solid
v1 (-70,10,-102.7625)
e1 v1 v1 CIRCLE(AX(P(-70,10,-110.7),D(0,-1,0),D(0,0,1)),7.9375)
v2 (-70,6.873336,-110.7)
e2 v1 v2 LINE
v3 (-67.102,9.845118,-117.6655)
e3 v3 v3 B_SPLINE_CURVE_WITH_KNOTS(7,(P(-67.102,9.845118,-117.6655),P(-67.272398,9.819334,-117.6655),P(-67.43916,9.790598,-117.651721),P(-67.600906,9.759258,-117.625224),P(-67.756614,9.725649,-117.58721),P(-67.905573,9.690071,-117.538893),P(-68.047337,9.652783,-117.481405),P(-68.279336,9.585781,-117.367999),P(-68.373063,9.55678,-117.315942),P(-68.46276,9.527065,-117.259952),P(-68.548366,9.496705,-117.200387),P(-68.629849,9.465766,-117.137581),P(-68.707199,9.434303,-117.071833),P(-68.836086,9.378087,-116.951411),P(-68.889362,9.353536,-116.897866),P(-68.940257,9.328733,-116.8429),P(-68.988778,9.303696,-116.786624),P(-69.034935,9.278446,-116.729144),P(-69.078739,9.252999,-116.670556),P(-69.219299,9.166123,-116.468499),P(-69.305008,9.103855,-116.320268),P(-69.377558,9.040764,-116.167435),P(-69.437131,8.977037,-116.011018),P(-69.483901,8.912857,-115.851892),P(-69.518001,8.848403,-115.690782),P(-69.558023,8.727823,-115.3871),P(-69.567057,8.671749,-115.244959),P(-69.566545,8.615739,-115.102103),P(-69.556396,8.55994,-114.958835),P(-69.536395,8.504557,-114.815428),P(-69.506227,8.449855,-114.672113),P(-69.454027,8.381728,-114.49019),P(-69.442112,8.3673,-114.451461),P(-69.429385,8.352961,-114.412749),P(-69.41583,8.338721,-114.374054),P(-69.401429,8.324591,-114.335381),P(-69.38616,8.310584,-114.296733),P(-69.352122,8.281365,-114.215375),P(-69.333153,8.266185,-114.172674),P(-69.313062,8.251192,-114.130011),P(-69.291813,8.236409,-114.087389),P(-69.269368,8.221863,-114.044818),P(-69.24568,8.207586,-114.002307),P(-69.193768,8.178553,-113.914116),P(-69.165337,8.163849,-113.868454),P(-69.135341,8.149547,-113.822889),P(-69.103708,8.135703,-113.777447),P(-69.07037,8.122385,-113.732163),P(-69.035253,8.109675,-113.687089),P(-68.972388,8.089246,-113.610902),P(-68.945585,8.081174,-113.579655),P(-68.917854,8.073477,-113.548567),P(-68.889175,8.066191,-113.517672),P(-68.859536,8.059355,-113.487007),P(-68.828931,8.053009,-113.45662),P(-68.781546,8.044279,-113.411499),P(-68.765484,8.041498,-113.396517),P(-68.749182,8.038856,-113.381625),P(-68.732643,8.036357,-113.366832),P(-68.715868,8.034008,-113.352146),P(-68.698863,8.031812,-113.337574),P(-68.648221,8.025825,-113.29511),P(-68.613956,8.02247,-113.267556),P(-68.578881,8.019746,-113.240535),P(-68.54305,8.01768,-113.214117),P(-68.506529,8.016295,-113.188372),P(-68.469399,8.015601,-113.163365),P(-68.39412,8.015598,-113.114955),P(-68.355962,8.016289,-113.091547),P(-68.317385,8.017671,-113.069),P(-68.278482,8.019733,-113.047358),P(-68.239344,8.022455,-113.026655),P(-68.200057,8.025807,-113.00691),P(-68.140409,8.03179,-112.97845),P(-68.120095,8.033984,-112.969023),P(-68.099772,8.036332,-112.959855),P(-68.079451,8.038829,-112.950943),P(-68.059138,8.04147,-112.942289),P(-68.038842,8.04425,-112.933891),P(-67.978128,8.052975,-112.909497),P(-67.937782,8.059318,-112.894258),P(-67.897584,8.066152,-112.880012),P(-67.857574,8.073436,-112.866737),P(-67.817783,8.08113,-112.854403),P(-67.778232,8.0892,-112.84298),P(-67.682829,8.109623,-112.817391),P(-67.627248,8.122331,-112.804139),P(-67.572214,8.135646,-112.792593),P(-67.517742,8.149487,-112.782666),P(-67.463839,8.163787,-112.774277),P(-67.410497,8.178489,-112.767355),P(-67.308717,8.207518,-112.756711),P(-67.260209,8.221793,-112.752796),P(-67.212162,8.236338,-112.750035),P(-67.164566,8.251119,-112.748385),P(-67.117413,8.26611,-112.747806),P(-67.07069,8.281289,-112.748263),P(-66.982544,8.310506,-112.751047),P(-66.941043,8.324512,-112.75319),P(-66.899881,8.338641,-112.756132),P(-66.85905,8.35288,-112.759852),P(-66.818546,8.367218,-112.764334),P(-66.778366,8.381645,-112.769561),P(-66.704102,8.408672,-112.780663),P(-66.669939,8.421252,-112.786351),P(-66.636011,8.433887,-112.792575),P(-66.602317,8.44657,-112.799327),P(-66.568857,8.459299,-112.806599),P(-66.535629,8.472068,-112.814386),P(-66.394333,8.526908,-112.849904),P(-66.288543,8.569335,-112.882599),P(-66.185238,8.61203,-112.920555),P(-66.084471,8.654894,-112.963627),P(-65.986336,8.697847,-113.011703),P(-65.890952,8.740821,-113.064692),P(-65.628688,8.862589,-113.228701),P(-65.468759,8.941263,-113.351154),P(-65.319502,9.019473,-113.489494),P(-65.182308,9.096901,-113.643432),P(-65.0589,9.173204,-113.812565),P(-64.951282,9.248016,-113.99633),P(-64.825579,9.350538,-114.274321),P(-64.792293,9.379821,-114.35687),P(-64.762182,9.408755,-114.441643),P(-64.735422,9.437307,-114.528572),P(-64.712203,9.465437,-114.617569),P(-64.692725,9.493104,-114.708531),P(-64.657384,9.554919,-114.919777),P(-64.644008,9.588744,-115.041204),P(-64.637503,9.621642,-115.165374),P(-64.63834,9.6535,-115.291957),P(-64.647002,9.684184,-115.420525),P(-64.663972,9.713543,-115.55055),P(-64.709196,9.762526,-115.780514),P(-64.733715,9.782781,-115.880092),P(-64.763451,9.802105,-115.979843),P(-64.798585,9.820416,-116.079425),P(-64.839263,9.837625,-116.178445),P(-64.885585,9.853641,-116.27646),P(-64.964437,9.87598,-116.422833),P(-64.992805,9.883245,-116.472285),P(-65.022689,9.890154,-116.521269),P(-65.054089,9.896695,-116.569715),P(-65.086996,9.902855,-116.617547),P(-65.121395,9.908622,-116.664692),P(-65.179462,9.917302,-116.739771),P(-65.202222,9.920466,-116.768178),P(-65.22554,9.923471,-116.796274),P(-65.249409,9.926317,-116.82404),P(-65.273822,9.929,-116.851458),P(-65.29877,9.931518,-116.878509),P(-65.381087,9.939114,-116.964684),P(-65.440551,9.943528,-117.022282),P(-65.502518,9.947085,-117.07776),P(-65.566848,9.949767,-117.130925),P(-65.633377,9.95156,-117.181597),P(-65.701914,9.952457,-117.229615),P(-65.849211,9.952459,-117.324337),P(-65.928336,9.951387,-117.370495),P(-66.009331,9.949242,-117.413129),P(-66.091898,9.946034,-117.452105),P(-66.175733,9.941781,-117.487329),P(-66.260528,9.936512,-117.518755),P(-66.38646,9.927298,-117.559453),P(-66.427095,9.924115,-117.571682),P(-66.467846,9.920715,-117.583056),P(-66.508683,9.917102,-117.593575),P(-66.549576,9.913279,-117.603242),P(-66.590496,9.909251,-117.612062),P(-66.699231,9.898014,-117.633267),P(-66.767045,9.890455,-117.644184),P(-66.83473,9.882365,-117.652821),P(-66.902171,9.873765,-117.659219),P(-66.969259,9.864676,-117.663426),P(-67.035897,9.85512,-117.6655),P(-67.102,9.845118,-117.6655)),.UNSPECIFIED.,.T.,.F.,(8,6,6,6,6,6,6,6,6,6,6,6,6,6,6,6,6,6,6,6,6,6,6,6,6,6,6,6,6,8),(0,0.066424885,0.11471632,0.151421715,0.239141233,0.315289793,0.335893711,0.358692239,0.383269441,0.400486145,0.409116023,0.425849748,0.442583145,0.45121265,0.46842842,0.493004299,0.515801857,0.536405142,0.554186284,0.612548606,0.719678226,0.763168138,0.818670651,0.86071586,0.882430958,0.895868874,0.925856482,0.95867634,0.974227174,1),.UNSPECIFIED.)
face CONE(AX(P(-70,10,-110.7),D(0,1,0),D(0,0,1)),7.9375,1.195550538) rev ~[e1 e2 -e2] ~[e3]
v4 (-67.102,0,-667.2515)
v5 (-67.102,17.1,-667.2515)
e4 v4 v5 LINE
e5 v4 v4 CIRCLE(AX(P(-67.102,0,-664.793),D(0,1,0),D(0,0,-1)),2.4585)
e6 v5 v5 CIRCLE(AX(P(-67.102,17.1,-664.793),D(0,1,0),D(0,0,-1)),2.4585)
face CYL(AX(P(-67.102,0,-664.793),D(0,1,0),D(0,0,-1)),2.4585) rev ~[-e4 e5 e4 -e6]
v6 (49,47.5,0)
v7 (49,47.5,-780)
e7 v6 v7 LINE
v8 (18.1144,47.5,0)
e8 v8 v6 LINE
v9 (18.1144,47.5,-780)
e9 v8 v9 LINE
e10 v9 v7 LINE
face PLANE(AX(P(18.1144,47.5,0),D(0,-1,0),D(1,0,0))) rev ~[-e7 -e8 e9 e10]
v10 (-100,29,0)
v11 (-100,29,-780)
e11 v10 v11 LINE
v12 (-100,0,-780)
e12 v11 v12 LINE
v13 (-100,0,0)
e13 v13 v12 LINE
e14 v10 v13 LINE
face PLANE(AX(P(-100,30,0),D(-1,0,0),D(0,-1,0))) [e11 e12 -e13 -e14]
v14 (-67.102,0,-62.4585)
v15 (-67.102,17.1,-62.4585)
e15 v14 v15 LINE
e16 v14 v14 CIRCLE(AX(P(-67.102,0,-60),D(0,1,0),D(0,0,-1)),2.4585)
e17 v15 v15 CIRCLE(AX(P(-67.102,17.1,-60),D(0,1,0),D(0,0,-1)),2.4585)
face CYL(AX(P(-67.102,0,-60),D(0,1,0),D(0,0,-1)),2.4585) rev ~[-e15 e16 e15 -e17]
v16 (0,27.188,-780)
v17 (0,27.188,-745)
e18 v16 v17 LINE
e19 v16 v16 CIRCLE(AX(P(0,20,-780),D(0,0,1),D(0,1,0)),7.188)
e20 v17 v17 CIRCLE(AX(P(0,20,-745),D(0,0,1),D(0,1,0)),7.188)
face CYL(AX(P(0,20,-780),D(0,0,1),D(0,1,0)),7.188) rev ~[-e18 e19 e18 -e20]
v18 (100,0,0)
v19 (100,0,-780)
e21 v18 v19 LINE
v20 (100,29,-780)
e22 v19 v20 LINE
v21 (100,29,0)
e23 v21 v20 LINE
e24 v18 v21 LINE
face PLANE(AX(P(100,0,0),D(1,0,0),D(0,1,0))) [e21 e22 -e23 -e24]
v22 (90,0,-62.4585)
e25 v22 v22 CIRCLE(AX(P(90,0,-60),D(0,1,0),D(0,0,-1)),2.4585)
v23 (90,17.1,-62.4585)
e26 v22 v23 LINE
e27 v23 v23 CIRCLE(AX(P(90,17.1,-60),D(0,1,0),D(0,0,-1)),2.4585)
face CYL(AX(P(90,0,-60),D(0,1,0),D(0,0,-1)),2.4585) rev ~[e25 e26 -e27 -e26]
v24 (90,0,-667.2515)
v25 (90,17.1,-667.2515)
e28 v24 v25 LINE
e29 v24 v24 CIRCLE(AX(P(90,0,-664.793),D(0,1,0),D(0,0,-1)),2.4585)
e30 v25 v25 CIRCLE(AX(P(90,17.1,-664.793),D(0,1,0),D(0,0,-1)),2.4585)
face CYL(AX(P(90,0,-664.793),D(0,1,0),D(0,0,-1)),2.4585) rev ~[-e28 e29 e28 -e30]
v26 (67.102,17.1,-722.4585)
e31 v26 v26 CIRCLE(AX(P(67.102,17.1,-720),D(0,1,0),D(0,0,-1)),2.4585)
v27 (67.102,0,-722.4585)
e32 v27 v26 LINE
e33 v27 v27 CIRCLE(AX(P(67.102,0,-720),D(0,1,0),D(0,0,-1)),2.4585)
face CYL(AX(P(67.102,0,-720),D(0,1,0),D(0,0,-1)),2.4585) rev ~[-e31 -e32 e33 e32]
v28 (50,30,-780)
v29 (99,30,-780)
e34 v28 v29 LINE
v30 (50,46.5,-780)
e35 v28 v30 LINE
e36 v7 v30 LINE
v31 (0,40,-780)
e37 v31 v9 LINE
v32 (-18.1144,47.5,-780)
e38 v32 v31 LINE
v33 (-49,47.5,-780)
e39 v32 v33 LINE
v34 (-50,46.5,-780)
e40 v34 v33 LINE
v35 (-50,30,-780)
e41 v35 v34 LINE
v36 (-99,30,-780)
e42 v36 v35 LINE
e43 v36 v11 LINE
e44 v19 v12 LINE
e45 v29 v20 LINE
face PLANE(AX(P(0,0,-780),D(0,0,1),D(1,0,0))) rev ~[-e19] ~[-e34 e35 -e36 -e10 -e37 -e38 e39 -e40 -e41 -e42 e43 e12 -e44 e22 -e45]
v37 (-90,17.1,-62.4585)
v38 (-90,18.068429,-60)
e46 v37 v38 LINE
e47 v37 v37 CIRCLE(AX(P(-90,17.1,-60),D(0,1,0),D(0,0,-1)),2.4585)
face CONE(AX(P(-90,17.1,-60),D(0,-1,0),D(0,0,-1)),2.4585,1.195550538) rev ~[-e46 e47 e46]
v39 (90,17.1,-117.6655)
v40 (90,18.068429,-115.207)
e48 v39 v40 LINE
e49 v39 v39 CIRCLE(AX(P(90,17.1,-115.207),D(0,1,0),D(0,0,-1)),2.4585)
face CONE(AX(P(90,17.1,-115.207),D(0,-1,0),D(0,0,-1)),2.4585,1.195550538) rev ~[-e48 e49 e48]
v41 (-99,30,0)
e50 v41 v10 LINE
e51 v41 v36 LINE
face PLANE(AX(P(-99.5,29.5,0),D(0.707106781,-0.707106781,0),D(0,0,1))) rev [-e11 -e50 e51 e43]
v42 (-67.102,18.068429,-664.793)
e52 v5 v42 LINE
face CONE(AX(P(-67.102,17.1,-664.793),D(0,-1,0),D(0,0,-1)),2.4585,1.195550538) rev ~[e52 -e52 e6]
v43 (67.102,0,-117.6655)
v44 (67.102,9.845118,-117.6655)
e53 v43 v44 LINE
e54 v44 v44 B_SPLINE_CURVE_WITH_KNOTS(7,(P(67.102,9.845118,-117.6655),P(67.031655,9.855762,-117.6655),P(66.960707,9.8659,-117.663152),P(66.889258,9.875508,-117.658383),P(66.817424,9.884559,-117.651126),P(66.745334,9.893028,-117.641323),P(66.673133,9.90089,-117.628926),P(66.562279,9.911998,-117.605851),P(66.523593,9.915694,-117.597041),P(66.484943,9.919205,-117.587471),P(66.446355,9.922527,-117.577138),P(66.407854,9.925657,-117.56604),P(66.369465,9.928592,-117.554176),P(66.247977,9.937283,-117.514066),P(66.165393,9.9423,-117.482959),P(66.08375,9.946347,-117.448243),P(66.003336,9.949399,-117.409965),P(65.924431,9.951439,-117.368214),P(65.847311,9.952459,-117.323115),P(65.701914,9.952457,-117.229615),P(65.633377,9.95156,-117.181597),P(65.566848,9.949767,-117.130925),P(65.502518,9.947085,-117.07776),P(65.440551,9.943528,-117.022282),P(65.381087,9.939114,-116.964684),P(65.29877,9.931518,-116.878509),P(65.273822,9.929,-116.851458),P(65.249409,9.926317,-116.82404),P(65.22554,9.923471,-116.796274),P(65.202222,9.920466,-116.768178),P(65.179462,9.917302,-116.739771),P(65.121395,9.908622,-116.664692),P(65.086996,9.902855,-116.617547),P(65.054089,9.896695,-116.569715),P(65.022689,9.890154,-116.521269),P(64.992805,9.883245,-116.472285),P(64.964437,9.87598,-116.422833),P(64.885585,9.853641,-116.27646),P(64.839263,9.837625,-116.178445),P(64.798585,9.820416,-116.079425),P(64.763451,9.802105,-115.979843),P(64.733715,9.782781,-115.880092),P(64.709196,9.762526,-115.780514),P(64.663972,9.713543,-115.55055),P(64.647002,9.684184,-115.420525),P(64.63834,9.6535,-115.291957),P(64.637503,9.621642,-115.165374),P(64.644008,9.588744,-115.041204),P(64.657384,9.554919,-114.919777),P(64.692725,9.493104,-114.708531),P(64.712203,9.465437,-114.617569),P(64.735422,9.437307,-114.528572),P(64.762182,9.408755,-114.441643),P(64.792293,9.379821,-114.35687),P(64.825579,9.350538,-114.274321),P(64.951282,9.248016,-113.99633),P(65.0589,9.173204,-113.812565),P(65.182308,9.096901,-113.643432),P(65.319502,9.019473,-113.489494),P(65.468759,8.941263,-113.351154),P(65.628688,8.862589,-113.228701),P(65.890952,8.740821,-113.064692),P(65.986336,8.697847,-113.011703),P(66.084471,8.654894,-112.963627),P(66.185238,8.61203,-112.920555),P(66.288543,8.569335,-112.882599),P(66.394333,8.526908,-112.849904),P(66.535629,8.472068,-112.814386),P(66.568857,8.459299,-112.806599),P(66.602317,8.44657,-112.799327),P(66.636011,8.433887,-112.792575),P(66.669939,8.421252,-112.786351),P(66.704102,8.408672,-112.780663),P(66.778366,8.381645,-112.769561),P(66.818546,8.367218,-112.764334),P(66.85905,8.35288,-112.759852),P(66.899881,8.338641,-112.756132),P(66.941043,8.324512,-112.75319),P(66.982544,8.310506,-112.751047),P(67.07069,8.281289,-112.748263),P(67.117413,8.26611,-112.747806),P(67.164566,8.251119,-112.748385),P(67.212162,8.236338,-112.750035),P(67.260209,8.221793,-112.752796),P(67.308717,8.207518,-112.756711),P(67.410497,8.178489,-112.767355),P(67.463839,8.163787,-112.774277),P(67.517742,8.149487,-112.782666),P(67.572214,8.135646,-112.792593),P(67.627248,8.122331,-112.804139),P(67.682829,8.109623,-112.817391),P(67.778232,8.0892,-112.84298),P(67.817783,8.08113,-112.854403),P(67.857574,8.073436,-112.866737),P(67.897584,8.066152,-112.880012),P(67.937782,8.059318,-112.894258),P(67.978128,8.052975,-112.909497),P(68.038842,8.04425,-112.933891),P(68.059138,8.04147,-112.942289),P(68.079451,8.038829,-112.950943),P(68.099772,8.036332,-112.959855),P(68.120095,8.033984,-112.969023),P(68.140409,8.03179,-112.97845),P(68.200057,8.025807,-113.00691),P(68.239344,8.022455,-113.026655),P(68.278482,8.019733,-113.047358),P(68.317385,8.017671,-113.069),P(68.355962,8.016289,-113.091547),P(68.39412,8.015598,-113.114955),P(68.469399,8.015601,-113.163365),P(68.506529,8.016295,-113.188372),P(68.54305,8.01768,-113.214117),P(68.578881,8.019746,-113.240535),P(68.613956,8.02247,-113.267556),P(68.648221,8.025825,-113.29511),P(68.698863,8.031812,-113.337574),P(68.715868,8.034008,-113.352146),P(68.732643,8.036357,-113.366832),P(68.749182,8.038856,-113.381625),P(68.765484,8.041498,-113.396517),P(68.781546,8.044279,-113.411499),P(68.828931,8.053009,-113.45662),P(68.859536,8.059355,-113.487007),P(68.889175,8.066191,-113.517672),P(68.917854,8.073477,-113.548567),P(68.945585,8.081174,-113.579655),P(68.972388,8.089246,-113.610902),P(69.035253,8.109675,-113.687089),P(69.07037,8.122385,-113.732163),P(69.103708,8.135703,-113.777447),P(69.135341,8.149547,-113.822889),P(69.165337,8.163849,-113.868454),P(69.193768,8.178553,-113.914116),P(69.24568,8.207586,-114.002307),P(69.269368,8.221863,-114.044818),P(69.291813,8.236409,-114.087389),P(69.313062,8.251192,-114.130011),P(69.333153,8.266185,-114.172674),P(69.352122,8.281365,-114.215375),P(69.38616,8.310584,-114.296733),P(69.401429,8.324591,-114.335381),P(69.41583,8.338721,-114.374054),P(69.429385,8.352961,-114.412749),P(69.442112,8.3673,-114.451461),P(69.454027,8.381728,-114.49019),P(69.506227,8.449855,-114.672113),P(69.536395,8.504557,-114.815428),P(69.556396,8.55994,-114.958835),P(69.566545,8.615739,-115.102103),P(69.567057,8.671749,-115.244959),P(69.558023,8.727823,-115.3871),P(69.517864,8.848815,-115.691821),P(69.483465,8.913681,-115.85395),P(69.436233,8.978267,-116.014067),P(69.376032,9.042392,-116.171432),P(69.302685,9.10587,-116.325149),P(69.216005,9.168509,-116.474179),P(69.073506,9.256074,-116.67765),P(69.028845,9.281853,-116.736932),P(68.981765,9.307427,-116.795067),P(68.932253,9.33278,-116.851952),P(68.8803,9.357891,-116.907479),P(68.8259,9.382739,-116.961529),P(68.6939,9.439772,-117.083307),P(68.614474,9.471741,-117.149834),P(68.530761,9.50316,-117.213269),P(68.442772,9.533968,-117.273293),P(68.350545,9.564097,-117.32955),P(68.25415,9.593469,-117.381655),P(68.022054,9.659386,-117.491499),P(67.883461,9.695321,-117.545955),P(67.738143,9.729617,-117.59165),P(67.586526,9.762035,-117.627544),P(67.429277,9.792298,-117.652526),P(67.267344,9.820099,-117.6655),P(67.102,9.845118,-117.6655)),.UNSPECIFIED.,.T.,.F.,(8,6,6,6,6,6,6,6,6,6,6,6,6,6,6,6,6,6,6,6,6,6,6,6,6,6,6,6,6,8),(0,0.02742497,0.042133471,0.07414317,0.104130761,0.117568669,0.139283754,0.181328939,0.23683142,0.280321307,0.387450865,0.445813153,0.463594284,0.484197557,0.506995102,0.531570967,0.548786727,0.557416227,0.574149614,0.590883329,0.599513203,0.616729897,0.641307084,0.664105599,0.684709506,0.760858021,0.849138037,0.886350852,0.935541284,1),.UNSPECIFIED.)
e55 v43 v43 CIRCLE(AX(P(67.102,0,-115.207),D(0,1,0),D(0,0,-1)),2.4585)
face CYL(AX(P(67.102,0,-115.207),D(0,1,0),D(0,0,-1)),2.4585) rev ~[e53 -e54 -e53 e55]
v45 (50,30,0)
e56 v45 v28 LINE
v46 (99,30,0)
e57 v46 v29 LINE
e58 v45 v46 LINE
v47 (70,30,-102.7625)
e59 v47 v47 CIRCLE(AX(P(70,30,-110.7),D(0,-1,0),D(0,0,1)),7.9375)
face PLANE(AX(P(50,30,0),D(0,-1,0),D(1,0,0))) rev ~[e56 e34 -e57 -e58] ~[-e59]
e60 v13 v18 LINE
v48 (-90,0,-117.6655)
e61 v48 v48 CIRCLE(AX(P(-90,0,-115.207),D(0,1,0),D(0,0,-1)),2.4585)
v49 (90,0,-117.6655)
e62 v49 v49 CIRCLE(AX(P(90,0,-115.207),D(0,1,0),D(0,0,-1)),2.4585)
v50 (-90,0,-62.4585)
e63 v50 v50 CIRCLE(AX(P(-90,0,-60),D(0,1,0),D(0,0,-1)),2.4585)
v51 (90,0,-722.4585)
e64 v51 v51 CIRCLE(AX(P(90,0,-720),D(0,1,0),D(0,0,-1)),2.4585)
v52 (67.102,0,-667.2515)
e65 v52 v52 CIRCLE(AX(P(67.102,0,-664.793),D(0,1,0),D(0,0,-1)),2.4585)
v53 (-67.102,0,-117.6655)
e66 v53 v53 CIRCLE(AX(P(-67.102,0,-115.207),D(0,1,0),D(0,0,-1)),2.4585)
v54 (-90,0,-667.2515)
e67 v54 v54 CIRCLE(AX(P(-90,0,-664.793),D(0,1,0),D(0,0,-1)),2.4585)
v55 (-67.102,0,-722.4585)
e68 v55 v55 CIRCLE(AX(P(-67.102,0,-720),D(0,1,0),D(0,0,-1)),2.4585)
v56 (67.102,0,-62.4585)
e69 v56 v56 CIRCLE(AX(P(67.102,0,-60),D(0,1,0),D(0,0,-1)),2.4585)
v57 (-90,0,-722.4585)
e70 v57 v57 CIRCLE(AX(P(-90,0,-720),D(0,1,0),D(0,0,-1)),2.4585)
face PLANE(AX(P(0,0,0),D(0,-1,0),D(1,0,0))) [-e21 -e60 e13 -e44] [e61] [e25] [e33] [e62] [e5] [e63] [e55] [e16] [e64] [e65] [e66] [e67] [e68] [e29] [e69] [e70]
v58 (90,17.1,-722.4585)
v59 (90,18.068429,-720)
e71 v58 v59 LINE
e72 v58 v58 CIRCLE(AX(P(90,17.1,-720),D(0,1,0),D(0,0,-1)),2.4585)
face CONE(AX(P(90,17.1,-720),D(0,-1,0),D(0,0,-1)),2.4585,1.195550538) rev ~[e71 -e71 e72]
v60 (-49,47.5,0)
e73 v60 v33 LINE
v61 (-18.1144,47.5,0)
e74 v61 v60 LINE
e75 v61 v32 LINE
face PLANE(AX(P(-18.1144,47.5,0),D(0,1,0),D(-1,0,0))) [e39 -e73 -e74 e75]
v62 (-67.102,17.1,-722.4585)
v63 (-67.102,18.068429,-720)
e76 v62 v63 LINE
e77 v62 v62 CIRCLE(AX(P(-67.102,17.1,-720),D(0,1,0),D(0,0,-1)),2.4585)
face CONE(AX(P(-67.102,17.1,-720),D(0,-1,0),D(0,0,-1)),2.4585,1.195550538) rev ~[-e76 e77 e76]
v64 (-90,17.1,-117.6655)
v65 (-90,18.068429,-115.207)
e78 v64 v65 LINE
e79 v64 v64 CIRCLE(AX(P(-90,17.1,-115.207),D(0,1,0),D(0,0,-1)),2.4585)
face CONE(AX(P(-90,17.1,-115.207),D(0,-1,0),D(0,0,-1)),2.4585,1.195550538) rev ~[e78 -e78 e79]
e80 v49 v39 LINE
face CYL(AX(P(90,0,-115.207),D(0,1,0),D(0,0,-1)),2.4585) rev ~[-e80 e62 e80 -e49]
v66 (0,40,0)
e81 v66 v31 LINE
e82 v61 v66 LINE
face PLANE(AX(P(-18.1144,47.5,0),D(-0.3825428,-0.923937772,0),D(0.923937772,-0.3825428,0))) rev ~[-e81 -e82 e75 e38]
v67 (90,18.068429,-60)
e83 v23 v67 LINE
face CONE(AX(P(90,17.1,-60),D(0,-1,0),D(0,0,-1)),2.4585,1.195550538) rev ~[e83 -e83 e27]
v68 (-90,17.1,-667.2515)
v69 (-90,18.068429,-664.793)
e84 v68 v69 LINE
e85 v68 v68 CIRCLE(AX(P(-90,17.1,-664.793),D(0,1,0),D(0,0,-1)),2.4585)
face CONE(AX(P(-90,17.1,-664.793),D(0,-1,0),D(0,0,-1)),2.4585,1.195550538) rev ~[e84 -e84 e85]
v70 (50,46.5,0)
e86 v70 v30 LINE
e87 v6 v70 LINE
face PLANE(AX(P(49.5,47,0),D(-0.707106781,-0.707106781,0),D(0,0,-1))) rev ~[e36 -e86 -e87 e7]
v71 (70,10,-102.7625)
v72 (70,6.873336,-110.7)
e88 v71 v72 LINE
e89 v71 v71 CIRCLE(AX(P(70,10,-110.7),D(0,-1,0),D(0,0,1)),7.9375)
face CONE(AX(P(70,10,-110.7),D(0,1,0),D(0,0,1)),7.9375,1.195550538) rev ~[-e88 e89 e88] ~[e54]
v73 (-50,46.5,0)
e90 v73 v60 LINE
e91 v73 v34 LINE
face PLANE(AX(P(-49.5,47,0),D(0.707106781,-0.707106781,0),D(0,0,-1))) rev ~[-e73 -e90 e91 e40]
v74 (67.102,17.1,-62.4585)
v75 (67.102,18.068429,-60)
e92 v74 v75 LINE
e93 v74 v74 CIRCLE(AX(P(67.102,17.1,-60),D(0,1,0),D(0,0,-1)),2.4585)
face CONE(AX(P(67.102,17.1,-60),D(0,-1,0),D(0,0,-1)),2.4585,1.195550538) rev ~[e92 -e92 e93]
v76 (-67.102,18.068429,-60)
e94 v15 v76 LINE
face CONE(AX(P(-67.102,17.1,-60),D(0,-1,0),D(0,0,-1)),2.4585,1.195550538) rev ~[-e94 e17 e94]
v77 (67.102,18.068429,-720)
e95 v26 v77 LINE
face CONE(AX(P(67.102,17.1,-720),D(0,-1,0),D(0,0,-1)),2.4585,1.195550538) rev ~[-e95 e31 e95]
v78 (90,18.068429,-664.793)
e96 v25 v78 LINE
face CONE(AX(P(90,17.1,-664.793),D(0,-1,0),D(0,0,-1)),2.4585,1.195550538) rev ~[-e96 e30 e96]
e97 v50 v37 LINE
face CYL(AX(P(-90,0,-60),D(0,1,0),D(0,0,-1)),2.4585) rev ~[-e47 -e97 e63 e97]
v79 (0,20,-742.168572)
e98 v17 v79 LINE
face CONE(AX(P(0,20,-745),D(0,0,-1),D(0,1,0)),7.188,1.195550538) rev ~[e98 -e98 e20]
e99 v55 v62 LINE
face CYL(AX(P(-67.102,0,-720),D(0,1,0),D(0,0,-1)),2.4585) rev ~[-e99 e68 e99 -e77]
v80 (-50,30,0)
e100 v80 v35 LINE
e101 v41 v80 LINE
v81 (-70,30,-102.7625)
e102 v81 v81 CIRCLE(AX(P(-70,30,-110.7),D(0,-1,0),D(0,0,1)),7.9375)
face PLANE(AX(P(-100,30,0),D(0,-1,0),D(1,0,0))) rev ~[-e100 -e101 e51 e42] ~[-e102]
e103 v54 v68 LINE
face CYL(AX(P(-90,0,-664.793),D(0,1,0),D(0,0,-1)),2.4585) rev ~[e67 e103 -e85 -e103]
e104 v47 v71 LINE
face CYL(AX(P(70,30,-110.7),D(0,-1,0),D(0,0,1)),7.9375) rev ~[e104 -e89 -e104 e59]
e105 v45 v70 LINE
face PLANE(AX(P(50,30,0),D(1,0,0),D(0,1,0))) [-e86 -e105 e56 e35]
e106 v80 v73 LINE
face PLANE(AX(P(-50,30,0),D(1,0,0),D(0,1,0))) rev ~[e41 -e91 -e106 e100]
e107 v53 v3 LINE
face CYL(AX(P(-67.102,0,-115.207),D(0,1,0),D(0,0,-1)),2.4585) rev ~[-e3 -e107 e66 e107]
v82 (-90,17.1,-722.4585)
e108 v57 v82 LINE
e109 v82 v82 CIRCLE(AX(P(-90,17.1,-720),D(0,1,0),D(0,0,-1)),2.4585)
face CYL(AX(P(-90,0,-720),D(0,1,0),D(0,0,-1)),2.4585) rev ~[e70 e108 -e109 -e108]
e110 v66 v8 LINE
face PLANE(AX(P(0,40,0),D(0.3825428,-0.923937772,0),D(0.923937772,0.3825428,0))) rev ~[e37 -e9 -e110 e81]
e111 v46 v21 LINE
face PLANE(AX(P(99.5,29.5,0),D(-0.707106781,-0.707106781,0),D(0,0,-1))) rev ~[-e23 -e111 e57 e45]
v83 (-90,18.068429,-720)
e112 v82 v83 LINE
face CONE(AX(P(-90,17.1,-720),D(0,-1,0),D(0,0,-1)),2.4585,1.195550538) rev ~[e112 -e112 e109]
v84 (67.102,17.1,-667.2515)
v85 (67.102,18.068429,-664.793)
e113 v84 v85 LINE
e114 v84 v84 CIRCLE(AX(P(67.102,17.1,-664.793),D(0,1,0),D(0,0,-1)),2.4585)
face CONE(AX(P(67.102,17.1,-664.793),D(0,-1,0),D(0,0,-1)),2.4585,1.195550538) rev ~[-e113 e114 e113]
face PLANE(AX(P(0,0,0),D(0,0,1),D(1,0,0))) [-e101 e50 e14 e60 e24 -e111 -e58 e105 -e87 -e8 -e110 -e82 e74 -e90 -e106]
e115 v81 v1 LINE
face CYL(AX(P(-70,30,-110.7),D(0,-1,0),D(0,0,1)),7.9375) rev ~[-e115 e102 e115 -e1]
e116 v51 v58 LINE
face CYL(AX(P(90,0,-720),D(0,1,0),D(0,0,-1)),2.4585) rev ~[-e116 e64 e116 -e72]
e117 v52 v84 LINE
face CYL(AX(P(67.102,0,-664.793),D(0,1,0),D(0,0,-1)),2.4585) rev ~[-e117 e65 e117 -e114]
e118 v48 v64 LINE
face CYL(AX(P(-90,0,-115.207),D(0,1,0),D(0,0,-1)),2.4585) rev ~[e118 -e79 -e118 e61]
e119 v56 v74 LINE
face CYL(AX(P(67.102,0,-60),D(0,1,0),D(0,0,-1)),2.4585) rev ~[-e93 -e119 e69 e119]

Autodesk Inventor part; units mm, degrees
ref_plane "YZ Plane" through (0, 0, 0) normal (1, 0, 0) x (0, 1, 0)
ref_plane "XZ Plane" through (0, 0, 0) normal (0, 1, 0) x (-1, 0, 0)
ref_plane "XY Plane" through (0, 0, 0) normal (0, 0, 1) x (1, 0, 0)
sketch "Sketch1" plane through (0, 0, 0) normal (0, 0, 1) x (1, 0, 0)
  line L0 (-50, 30) -> (-50, 47.5)
  line L1 (50, 30) -> (50, 47.5)
  line L2 (-18.1144, 47.5) -> (0, 40)
  line L3 (0, 40) -> (18.1144, 47.5)
  line L4 (-100, 30) -> (-50, 30)
  line L5 (50, 30) -> (100, 30)
  line L6 (0, 40) -> (0, 46.5) construction
  line L7 (-18.1144, 47.5) -> (-50, 47.5)
  line L8 (18.1144, 47.5) -> (50, 47.5)
  line L9 (-100, 30) -> (-100, 0)
  line L10 (100, 0) -> (100, 30)
  line L11 (-100, 0) -> (0, 0)
  line L12 (0, 0) -> (100, 0)
  dimension "d90" = 17.5
  dimension "d91" = 50
  dimension "d92" = 50
  dimension "d105" = 10
  dimension "d108" = 30
  dimension "d110" = 50
  dimension "d154" = 18.1144
extrude "Extrusion1" add sketch "Sketch1" against normal blind 780
sketch "Sketch4" plane through (-100, 30, 0) normal (0, 1, 0) x (1, 0, 0)
  line L0 (0, 0) -> (0, 780) projected
  line L1 (50, 0) -> (0, 0) projected
  line L2 (200, 0) -> (200, 780) projected
  line L3 (200, 0) -> (150, 0) projected
  point P0 (100, 0)
  point P1 (30, 110.7)
  point P2 (170, 110.7)
  dimension "d63" = 30
  dimension "d64" = 110.7
  dimension "d65" = 30
  dimension "d109" = 110.7
hole "Hole2" at (-70, 30, -110.7) at (70, 30, -110.7) direction (0, -1, 0) diameter 15.875 depth 20 tip angle 137
thread "Thread1" size "5/8-11 UNC" class "2B" standard "ANSI Unified Screw Threads" full length
thread "Thread2" size "5/8-11 UNC" class "2B" standard "ANSI Unified Screw Threads" length 70
chamfer "Chamfer1" distance 1 angle 45 4 edges at (-50, 47.5, -390) (-100, 30, -390) (50, 47.5, -390) (100, 30, -390)
sketch "Sketch6" plane through (-100, 0, 0) normal (0, -1, 0) x (1, 0, 0)
  line L0 (190, -60) -> (190, -115.207) construction
  line L1 (190, -60) -> (167.102, -60) construction
  line L2 (167.102, -60) -> (167.102, -115.207) construction
  line L3 (100, 0) -> (100, -780) construction
  line L4 (10, -60) -> (10, -115.207) construction
  line L5 (10, -60) -> (32.898, -60) construction
  line L6 (32.898, -60) -> (32.898, -115.207) construction
  line L7 (200, -390) -> (0, -390) construction
  line L8 (0, 0) -> (0, -780) construction
  line L9 (190, -720) -> (190, -664.793) construction
  line L10 (190, -720) -> (167.102, -720) construction
  line L11 (167.102, -720) -> (167.102, -664.793) construction
  line L12 (10, -720) -> (10, -664.793) construction
  line L13 (32.898, -720) -> (32.898, -664.793) construction
  line L14 (10, -720) -> (32.898, -720) construction
  line L15 (0, 0) -> (200, 0) construction
  line L16 (200, 0) -> (200, -780) projected
  dimension "d112" = 55.207
  dimension "d113" = 22.898
  dimension "d115" = 60
  dimension "d155" = 10
hole "Hole3" at (90, 0, -60) at (90, 0, -115.207) at (67.102, 0, -60) at (67.102, 0, -115.207) at (-90, 0, -60) at (-90, 0, -115.207) at (-67.102, 0, -60) at (-67.102, 0, -115.207) at (90, 0, -720) at (90, 0, -664.793) at (67.102, 0, -720) at (67.102, 0, -664.793) at (-67.102, 0, -720) at (-67.102, 0, -664.793) at (-90, 0, -720) at (-90, 0, -664.793) direction (0, 1, 0) diameter 4.917 depth 17.1 tip angle 137 thread size "M6x1" class "6H" standard "ISO Metric profile"
sketch "Sketch8" plane through (0, 0, -780) normal (0, 0, -1) x (-1, 0, 0)
  line L0 (-100, 29) -> (-100, 0) projected
  line L1 (-100, 0) -> (100, 0) projected
  line L2 (0, 40) -> (-18.1144, 47.5) projected
  line L3 (18.1144, 47.5) -> (0, 40) projected
  point P0 (0, 0)
  point P1 (0, 20)
  dimension "d156" = 100
  dimension "d157" = 20
hole "Hole4" at (0, 20, -780) direction (0, 0, 1) diameter 14.376 depth 35 tip angle 137 thread size "M16x1.5" class "6H" standard "ISO Metric profile"
equation "\"d92\" = d91"
equation "\"d64\" = d109"
equation "\"d65\" = d63"
equation "\"d36\" = d34"
equation "\"d34\" = 75"
properties part number "Base soporte tubos" material "Steel AISI 1045 HV HR"
